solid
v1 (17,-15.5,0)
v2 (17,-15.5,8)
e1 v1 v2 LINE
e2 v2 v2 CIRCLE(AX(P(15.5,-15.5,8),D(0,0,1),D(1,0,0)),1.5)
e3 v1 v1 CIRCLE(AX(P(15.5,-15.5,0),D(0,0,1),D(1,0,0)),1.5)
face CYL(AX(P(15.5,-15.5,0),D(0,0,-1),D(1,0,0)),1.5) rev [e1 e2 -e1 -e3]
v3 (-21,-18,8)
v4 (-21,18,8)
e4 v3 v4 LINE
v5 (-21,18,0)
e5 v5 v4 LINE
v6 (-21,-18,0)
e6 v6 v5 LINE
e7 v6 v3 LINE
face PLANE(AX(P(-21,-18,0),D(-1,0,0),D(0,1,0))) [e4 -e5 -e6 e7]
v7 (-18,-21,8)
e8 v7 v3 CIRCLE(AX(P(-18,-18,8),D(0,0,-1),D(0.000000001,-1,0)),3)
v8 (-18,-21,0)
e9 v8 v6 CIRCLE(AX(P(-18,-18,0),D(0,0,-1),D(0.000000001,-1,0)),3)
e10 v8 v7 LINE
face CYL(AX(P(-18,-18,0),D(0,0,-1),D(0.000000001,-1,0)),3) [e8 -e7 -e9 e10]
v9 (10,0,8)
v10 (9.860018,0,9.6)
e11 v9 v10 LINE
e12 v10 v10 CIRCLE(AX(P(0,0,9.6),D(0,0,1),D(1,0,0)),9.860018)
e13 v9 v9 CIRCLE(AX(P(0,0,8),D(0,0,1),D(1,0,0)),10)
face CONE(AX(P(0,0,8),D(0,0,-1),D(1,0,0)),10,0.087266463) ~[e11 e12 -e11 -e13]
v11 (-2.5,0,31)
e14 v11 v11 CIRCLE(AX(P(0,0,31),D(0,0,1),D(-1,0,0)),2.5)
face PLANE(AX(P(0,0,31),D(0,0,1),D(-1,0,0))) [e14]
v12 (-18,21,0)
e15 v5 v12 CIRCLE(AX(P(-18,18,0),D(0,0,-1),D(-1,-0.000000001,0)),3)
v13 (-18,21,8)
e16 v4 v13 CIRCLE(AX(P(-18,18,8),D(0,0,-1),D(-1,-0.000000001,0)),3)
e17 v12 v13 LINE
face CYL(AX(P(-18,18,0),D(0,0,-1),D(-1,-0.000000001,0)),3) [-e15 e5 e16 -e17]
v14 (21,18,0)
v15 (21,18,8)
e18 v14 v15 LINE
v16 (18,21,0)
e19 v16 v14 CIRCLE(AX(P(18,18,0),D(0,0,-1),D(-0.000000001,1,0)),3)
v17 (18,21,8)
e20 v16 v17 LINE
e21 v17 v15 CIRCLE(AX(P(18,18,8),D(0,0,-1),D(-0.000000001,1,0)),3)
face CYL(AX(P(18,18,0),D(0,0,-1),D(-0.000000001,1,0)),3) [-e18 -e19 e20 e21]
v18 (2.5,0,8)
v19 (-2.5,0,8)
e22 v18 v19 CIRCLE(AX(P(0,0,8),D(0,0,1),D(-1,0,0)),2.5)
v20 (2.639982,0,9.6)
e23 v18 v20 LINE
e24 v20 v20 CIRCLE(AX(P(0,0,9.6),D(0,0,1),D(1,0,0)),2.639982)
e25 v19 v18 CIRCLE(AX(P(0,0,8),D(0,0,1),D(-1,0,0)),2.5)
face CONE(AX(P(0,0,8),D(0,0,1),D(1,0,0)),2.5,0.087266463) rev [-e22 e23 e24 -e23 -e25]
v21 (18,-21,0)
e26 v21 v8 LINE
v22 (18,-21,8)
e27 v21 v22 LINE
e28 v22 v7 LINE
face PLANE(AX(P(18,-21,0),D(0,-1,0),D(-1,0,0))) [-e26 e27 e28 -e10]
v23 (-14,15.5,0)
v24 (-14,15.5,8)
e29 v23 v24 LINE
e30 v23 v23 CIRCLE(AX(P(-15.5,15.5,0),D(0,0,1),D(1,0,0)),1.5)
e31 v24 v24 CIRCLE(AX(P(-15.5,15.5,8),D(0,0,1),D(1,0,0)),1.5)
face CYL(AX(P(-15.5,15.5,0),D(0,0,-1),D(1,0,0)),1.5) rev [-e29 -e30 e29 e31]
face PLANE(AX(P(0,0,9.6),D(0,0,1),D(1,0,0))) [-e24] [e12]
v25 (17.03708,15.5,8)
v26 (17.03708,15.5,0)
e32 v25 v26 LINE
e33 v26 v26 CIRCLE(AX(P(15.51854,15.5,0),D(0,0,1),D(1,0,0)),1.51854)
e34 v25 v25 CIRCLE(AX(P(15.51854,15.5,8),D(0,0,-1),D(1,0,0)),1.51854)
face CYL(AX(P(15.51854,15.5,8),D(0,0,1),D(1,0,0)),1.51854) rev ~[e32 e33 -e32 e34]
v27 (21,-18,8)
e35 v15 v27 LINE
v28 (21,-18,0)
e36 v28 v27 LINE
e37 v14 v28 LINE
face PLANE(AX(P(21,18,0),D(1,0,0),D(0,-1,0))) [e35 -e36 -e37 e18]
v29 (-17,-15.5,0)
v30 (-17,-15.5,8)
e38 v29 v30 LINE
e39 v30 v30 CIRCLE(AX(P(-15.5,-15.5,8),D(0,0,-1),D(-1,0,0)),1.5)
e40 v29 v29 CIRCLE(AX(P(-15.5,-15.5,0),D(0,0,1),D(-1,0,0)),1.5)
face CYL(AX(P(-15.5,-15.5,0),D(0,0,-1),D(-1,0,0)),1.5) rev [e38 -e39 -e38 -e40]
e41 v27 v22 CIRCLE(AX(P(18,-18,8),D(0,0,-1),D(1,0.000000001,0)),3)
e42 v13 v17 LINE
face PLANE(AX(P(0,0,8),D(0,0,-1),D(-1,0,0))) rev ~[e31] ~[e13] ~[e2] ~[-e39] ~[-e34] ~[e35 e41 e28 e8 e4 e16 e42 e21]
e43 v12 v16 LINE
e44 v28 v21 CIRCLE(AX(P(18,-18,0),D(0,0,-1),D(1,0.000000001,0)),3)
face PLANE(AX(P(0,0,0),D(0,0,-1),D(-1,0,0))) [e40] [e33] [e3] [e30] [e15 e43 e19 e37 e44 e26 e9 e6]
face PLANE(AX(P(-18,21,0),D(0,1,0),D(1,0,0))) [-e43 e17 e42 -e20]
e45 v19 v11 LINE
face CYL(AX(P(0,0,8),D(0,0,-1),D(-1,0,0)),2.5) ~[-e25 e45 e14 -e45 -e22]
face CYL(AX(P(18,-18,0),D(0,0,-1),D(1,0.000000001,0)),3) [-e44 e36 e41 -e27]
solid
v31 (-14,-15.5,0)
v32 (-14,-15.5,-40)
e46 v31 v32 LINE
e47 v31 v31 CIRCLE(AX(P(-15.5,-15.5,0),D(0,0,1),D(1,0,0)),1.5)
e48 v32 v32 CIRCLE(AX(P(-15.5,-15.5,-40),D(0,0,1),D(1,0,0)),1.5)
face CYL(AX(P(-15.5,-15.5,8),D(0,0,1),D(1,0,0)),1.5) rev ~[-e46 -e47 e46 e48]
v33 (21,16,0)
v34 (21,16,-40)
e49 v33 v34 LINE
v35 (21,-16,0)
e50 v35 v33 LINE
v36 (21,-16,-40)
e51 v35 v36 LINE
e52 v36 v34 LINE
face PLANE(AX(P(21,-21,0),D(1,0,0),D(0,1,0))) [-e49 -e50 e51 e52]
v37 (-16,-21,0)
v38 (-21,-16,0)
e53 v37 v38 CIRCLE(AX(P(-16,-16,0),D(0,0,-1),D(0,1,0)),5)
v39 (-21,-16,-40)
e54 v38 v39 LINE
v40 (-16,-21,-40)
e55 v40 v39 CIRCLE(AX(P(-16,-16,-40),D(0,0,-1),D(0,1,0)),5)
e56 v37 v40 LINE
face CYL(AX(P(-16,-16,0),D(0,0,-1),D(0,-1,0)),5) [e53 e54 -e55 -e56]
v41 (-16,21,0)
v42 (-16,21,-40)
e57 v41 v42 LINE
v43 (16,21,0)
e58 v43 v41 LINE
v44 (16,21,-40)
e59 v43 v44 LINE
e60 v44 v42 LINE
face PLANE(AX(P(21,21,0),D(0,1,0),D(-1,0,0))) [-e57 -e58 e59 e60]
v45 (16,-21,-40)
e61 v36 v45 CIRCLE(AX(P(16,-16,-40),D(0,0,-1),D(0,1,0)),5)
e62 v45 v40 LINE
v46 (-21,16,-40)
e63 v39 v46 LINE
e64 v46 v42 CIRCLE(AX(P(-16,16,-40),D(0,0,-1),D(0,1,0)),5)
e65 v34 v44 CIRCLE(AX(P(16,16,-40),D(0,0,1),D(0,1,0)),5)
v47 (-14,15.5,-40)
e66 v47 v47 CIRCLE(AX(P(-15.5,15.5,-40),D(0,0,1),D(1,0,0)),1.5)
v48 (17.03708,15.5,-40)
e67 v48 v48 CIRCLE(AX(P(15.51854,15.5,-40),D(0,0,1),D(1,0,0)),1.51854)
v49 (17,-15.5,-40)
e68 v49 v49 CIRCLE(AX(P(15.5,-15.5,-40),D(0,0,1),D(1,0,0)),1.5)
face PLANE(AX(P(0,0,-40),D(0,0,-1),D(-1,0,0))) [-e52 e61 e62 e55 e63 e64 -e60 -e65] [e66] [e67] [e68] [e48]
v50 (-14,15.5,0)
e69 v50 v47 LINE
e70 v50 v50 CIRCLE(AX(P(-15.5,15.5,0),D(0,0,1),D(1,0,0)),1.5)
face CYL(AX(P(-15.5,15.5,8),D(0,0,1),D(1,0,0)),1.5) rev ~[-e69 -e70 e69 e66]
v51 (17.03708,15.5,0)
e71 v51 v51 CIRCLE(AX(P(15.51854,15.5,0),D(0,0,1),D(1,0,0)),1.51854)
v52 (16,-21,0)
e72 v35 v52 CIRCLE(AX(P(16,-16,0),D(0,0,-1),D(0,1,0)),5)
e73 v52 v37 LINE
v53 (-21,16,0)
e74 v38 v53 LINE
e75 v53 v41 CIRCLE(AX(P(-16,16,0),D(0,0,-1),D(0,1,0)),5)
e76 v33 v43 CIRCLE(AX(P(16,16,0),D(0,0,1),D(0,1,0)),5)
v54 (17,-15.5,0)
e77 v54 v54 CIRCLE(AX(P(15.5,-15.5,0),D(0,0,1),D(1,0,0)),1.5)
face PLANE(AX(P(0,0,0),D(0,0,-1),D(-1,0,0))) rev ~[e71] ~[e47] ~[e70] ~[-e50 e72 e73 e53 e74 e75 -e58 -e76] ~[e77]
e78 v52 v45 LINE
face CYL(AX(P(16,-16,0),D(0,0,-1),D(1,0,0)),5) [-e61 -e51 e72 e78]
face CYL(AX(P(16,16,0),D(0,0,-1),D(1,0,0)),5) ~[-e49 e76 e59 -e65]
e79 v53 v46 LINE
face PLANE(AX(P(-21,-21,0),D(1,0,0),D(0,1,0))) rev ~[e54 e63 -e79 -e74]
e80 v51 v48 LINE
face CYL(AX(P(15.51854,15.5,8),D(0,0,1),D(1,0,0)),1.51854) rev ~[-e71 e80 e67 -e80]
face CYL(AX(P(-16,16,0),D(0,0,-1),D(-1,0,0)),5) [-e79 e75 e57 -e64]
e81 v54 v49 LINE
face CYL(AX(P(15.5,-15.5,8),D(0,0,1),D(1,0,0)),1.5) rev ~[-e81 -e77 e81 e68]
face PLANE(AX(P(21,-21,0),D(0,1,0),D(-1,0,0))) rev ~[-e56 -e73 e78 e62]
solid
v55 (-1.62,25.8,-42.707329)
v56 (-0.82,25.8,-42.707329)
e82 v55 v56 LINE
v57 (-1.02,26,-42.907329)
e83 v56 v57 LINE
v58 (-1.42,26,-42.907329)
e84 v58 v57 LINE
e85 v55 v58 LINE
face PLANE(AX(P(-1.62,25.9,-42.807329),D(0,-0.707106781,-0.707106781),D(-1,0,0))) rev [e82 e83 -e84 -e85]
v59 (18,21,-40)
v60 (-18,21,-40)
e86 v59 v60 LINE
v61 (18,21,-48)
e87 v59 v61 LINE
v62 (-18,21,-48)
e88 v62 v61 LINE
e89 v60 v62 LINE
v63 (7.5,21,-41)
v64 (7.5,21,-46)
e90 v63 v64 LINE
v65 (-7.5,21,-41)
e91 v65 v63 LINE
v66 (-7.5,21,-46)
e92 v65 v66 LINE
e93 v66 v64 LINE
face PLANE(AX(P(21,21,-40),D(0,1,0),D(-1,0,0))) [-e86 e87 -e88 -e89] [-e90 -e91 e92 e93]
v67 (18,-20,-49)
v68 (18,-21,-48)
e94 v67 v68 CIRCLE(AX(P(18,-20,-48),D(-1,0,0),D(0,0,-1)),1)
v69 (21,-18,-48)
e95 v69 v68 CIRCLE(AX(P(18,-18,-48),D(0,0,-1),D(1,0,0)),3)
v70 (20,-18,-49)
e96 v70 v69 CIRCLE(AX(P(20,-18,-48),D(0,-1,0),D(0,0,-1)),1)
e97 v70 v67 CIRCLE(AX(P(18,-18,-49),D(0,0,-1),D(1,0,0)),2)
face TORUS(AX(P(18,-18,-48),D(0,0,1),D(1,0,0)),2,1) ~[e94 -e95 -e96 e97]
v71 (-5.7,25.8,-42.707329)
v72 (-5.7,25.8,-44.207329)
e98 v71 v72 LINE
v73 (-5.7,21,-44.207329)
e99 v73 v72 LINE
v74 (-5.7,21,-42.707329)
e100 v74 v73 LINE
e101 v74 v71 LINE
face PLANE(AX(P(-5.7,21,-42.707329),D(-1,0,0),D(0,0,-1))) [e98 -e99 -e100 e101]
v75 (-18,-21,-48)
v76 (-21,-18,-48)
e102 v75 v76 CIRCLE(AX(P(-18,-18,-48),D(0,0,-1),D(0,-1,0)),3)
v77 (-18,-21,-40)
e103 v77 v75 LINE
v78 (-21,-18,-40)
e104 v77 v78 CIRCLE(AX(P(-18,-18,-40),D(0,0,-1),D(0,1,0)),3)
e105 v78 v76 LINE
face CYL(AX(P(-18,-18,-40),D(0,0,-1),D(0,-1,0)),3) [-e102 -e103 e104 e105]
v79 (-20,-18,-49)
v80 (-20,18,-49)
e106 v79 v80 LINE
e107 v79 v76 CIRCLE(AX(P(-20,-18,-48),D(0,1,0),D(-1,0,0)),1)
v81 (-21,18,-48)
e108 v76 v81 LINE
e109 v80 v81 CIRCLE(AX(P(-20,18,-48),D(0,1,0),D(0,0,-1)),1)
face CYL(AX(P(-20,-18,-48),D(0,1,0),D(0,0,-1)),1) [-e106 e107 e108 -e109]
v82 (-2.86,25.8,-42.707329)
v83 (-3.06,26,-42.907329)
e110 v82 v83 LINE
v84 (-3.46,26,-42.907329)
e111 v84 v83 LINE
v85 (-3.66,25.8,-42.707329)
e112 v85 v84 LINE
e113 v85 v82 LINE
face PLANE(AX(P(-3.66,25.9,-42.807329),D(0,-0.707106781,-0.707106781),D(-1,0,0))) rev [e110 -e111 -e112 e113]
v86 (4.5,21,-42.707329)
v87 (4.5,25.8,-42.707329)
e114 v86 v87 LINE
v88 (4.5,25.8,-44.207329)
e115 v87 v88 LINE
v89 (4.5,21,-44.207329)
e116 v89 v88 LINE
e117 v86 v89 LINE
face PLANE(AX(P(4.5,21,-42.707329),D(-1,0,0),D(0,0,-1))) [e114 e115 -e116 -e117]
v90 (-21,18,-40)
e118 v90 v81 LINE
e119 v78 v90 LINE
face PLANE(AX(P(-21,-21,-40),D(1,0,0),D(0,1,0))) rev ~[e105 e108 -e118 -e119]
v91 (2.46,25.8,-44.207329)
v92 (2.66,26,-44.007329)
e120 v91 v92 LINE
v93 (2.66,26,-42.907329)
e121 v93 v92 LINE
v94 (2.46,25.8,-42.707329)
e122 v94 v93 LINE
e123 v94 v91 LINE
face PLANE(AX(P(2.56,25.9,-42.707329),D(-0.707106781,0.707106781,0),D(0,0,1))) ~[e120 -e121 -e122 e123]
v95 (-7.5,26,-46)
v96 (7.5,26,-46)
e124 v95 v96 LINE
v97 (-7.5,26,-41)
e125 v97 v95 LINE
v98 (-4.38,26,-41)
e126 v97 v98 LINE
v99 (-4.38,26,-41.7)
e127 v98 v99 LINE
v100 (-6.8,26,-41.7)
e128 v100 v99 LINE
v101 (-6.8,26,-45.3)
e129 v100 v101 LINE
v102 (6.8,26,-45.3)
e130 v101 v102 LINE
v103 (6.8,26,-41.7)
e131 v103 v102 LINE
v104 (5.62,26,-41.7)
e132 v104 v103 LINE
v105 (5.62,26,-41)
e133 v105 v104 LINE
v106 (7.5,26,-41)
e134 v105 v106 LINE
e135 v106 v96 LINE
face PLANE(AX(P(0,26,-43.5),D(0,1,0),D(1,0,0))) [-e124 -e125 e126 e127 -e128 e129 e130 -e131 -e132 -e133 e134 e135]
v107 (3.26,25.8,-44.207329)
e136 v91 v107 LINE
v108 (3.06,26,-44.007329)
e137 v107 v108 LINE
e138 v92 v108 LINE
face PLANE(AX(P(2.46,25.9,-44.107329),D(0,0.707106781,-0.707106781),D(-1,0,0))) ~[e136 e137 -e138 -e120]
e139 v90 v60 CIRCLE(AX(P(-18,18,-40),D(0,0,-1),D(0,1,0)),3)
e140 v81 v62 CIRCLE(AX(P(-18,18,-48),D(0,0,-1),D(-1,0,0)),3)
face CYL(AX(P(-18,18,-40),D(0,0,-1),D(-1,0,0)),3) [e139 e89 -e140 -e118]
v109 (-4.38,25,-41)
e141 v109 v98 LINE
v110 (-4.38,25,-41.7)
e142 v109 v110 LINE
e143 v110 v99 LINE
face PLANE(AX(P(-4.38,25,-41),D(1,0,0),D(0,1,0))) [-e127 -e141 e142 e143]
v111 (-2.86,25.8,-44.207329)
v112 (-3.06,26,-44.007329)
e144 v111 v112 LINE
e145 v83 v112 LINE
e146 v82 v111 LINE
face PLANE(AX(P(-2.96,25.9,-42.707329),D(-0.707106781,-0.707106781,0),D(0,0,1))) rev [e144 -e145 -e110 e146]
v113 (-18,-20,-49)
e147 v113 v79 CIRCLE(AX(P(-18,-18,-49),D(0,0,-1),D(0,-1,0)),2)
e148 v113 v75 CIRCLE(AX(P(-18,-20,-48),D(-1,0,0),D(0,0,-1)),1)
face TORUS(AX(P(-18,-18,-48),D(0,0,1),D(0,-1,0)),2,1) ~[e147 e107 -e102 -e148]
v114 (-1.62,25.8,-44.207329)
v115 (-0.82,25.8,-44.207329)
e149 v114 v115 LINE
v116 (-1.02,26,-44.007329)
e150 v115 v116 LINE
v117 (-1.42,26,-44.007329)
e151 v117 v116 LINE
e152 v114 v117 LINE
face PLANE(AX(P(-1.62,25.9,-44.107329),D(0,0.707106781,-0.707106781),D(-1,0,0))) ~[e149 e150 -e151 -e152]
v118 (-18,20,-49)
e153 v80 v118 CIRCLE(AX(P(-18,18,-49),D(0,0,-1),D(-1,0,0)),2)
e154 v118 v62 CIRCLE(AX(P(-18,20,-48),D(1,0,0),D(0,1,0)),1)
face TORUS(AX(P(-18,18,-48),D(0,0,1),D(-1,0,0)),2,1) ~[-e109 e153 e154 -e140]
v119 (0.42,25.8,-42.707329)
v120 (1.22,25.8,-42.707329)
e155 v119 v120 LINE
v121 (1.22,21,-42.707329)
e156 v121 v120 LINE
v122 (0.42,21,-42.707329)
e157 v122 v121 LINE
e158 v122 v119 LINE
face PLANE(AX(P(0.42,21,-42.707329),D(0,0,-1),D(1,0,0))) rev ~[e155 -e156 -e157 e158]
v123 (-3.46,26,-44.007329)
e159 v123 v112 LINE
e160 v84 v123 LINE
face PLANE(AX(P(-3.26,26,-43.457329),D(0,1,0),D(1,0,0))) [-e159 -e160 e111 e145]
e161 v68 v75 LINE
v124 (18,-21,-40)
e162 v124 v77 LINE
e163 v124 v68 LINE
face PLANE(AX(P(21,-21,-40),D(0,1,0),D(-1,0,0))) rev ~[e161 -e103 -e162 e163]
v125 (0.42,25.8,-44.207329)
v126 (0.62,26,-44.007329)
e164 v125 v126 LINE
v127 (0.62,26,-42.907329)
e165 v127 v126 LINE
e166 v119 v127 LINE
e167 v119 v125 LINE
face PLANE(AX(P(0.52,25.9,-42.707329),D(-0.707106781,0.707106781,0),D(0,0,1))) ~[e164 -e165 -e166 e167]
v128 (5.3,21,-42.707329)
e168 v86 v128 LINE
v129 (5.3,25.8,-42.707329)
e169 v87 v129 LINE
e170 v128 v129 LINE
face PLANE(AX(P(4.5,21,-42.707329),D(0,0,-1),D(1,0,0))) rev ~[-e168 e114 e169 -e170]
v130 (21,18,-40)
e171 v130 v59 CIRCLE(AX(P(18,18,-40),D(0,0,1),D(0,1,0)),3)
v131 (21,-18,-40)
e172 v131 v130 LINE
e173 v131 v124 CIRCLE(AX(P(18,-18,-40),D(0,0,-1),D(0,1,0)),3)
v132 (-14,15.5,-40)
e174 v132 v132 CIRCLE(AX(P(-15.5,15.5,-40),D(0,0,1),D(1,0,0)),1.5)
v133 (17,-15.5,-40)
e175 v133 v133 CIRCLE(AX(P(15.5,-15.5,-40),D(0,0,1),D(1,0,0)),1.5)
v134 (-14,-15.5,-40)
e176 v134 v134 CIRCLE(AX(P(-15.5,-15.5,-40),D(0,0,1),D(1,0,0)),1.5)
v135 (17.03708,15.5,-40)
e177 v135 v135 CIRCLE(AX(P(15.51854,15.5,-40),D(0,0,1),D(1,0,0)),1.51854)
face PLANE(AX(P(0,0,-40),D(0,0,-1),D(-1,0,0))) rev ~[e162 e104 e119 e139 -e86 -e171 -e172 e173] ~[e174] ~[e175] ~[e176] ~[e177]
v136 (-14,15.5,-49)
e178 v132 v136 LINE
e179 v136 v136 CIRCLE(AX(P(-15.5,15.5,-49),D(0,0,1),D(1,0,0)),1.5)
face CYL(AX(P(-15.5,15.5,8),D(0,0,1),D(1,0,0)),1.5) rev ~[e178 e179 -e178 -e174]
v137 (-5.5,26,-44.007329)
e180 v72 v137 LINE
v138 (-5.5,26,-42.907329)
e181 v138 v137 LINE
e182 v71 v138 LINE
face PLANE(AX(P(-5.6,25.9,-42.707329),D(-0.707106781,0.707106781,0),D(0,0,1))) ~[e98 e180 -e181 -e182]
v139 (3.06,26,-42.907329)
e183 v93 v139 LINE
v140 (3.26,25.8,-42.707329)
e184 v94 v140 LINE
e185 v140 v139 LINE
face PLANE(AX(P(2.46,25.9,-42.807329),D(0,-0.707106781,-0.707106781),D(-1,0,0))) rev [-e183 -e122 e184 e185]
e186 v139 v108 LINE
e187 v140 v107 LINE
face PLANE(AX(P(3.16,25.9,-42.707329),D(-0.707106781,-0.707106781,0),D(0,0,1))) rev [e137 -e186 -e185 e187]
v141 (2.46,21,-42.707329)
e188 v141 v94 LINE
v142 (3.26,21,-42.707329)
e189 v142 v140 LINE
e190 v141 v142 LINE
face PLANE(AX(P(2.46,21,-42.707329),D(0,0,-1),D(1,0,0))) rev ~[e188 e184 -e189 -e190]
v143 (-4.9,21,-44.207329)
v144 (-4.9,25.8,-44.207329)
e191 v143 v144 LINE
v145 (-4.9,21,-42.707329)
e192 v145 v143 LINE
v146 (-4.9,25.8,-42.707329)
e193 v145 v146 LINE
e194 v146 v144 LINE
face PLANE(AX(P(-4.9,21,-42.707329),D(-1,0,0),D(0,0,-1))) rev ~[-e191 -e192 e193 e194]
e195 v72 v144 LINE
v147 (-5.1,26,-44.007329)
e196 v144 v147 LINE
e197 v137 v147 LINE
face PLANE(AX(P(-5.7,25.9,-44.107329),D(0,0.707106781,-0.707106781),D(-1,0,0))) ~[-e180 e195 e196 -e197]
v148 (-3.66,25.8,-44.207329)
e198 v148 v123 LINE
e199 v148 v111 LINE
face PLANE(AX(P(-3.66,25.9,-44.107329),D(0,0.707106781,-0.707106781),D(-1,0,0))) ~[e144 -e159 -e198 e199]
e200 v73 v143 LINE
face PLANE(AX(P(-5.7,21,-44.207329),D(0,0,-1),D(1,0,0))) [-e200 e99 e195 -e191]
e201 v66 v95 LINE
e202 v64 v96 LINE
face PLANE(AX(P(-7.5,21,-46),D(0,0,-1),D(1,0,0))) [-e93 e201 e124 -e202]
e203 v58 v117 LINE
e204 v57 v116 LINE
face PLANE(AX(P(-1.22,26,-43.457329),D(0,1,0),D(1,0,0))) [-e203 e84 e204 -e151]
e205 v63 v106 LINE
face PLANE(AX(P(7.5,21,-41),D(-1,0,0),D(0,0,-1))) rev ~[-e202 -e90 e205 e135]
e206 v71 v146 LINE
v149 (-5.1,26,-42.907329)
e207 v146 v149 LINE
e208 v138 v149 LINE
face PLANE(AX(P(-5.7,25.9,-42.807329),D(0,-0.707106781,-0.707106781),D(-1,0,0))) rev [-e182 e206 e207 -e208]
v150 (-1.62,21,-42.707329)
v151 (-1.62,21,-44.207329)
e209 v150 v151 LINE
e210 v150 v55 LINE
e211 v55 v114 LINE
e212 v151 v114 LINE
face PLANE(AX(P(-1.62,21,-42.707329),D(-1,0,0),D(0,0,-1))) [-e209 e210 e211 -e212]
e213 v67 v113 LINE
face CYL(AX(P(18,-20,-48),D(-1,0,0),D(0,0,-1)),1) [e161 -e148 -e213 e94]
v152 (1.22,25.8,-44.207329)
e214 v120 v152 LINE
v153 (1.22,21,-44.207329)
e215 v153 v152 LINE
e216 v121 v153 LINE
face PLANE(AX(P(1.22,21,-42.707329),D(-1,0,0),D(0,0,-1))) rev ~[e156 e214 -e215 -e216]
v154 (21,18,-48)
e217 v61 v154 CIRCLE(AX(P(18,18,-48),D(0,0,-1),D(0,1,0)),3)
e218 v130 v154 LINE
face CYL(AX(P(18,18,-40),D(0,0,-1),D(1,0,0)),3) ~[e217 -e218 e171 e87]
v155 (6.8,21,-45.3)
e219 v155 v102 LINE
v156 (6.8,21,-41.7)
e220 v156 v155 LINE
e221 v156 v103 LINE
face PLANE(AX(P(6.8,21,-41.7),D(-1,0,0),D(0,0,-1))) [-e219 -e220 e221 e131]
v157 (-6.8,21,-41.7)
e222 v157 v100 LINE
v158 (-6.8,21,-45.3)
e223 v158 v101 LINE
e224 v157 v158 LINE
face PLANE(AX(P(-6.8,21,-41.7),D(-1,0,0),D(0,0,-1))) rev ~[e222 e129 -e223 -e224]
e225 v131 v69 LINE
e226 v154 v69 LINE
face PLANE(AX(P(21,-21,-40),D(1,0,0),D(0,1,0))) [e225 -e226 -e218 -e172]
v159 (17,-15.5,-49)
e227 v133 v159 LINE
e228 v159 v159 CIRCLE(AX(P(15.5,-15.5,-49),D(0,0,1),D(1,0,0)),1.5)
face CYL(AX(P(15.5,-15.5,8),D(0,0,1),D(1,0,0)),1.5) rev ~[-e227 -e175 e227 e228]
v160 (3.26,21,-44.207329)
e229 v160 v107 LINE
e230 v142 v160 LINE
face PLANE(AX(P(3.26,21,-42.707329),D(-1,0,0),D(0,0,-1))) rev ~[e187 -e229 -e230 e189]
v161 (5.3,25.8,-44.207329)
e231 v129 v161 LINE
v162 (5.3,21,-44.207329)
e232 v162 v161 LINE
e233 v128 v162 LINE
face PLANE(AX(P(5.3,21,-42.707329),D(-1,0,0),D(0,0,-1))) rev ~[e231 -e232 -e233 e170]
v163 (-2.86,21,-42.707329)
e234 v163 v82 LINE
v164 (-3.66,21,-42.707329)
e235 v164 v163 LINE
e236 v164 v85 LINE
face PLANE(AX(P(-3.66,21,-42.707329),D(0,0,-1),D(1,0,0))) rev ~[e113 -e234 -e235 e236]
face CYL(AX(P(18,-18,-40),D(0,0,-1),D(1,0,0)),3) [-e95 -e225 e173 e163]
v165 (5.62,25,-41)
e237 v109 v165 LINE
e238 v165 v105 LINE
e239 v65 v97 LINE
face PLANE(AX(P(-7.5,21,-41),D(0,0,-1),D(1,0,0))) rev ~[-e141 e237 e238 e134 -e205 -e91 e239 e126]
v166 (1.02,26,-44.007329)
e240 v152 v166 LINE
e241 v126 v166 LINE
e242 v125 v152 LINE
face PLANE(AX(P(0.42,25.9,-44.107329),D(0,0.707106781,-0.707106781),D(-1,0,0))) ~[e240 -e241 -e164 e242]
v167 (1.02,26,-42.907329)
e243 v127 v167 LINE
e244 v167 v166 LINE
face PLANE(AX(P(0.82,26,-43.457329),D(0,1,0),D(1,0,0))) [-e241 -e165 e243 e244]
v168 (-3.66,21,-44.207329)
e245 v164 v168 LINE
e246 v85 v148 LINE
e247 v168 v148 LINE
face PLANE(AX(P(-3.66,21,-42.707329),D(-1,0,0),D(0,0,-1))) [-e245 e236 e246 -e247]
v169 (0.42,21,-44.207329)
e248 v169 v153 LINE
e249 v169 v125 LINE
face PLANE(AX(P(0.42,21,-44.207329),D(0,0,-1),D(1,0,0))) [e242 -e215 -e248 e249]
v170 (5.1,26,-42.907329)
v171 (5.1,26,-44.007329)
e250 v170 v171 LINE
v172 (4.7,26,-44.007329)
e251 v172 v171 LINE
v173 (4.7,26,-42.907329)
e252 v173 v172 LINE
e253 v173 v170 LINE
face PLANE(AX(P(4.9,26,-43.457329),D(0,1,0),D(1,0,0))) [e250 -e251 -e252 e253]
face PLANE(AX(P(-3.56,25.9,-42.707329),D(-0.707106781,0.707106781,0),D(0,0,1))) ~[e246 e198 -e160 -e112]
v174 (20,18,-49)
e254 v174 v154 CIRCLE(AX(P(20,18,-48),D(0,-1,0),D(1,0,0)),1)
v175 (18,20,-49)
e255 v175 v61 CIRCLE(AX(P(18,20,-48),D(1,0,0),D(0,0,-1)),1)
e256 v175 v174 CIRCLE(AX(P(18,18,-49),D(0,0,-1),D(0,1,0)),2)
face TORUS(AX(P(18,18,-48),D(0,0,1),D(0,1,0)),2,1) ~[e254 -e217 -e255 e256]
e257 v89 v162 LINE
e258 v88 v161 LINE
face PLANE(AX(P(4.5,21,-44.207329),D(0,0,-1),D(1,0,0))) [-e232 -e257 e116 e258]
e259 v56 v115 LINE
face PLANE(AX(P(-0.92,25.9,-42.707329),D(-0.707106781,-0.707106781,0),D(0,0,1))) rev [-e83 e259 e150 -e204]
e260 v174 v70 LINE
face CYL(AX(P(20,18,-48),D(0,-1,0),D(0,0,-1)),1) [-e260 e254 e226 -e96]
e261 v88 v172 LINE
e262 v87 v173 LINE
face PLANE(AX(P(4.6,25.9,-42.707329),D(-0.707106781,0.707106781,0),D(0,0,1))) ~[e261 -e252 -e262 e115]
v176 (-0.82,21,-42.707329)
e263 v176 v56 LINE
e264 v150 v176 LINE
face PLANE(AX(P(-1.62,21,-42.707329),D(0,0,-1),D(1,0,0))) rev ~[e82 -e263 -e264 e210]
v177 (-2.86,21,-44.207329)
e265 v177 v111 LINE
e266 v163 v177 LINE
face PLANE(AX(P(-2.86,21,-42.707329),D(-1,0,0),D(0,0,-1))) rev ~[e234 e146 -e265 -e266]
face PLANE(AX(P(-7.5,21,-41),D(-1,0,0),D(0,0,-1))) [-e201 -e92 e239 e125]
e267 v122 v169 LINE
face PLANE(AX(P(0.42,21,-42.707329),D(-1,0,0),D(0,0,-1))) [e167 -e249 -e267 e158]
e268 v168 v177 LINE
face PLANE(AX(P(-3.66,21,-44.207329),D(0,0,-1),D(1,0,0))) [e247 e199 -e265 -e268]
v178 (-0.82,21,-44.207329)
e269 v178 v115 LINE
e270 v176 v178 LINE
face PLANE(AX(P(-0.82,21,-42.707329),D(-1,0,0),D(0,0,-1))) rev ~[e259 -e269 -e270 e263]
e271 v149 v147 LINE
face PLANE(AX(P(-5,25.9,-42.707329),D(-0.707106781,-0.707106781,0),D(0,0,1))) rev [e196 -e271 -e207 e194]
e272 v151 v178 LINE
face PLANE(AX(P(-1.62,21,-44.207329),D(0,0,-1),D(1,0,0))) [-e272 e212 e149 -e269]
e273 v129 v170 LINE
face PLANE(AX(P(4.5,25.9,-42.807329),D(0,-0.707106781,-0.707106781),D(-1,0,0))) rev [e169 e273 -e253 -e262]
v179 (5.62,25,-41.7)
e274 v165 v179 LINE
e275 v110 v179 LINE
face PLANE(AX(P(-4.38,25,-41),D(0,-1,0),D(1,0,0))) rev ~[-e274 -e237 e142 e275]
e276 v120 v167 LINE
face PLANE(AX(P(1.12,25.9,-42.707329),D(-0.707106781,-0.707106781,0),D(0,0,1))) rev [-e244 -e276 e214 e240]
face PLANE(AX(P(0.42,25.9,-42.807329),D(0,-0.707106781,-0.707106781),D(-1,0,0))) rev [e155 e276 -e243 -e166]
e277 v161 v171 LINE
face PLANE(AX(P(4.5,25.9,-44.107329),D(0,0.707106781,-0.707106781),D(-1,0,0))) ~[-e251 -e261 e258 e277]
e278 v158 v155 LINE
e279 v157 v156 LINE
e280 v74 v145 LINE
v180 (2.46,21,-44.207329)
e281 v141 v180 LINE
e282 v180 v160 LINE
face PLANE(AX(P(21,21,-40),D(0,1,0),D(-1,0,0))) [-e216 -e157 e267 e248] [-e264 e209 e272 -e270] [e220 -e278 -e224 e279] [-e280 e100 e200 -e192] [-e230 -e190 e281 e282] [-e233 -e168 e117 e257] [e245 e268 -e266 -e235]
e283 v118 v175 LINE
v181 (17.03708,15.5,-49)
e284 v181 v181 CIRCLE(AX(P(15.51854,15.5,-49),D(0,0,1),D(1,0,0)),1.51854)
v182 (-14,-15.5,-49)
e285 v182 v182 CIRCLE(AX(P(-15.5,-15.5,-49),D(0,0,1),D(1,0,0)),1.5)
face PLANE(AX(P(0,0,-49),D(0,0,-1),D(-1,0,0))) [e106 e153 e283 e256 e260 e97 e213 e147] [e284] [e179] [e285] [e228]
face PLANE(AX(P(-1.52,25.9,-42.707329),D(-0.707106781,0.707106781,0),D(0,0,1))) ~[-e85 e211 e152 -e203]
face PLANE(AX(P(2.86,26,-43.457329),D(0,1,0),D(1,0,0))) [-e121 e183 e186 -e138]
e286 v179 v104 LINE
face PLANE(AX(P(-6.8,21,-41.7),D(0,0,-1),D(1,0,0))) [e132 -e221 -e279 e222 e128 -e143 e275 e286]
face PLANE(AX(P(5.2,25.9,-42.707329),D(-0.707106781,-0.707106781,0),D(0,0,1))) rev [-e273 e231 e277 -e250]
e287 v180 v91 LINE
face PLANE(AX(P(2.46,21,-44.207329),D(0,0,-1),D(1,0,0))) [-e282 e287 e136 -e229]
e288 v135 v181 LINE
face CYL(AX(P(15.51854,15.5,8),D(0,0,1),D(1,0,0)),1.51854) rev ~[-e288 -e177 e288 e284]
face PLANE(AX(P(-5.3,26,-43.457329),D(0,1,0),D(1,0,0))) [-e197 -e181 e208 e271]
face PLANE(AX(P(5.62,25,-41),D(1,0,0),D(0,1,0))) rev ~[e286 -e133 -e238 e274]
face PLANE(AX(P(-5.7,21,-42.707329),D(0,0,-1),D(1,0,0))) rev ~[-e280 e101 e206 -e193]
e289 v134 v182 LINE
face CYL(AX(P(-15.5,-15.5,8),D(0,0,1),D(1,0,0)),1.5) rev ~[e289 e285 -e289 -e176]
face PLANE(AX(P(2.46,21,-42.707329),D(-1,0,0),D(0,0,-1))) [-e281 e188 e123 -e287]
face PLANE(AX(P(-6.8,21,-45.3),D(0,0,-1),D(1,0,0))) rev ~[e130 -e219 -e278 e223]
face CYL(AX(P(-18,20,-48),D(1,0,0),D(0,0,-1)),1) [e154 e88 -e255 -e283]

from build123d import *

# Parameters (mm, degrees)
SKETCH_1_R          = 1.5
EXTRUDE_1_DEPTH     = 8
SKETCH_4_R          = 2.5
EXTRUDE_2_DEPTH     = 23
SKETCH_9_W          = 42
SKETCH_9_H          = 42
EXTRUDE_7_DEPTH     = 40
SKETCH_10_W         = 42
SKETCH_10_H         = 42
EXTRUDE_8_DEPTH     = 9
FILLET_1_R          = 3
FILLET_2_R          = 5
SKETCH_12_R         = 1.5
SKETCH_12_R_2       = 1.518540069
CUT_EXTRUDE_1_DEPTH = 65.272855857
SKETCH_14_W         = 15
SKETCH_14_H         = 5
SKETCH_14_W_2       = 13.6
SKETCH_14_H_2       = 3.6
SKETCH_14_W_3       = 0.8
SKETCH_14_H_3       = 1.5
EXTRUDE_10_DEPTH    = 5
CHAMFER_1_SIZE      = 0.2
SKETCH_15_W         = 10
SKETCH_15_H         = 1
CUT_EXTRUDE_2_DEPTH = 0.7
FILLET_3_R          = 1
SKETCH_16_R         = 10
SKETCH_16_R_2       = 2.5
EXTRUDE_11_DEPTH    = 1.6
EXTRUDE_11_DRAFT    = 5


with BuildPart() as part:
    # 草图1 → 凸台-拉伸1 (new body)
    with BuildSketch(Plane.XY):
        with BuildLine():
            Line((-18, 21), (18, 21))
            ThreePointArc((18, 21), (20.121320344, 20.121320344), (21, 18))
            Line((21, 18), (21, -18))
            ThreePointArc((21, -18), (20.121320344, -20.121320344), (18, -21))
            Line((18, -21), (-18, -21))
            ThreePointArc((-18, -21), (-20.121320344, -20.121320344), (-21, -18))
            Line((-21, -18), (-21, 18))
            ThreePointArc((-21, 18), (-20.121320344, 20.121320344), (-18, 21))
        make_face()
        with Locations((-15.5, 15.5)):
            Circle(SKETCH_1_R, mode=Mode.SUBTRACT)
        with Locations(Location((15.5, 15.5, 0), (0, 0, 180))):
            Circle(SKETCH_1_R, mode=Mode.SUBTRACT)
        with Locations((15.5, -15.5)):
            Circle(SKETCH_1_R, mode=Mode.SUBTRACT)
        with Locations(Location((-15.5, -15.5, 0), (0, 0, 180))):
            Circle(SKETCH_1_R, mode=Mode.SUBTRACT)
    extrude(amount=EXTRUDE_1_DEPTH)

    # 草图4 → 凸台-拉伸2 (add)
    with BuildSketch(Plane.XY.offset(8)):
        with Locations(Location((0, 0, 0), (0, 0, 180))):
            Circle(SKETCH_4_R)
    extrude(amount=EXTRUDE_2_DEPTH)


with BuildPart() as body_2:
    # 草图9 → 凸台-拉伸7 (new body)
    with BuildSketch(Plane(origin=(0, 0, 0), x_dir=(-1, 0, 0), z_dir=(0, 0, -1))):
        Rectangle(SKETCH_9_W, SKETCH_9_H)
    extrude(amount=EXTRUDE_7_DEPTH)

    # 圆角2
    fillet_2_edges = [body_2.edges().sort_by_distance(p)[0] for p in [
        (-21, -21, -20),
        (21, -21, -20),
        (21, 21, -20),
        (-21, 21, -20),
    ]]
    fillet(fillet_2_edges, radius=FILLET_2_R)


with BuildPart() as body_3:
    # 草图10 → 凸台-拉伸8 (new body)
    with BuildSketch(Plane(origin=(0, 0, -40), x_dir=(-1, 0, 0), z_dir=(0, 0, -1))):
        Rectangle(SKETCH_10_W, SKETCH_10_H)
    extrude(amount=EXTRUDE_8_DEPTH)

    # 圆角1
    fillet_1_edges = [body_3.edges().sort_by_distance(p)[0] for p in [
        (21, 21, -44.5),
        (-21, 21, -44.5),
        (-21, -21, -44.5),
        (21, -21, -44.5),
    ]]
    fillet(fillet_1_edges, radius=FILLET_1_R)


with BuildPart() as cut_extrude_1_tool:
    # 草图12 → 切除-拉伸1 (new, through all)
    with BuildSketch(Plane.XY.offset(8)):
        with Locations((-15.5, 15.5)):
            Circle(SKETCH_12_R)
        with Locations((15.518540069, 15.5)):
            Circle(SKETCH_12_R_2)
        with Locations((-15.5, -15.5)):
            Circle(SKETCH_12_R)
        with Locations((15.5, -15.5)):
            Circle(SKETCH_12_R)
    extrude(amount=-CUT_EXTRUDE_1_DEPTH)


with BuildPart() as part_1:
    add(part.part)

    # 切除-拉伸1: cut by cut_extrude_1_tool
    add(cut_extrude_1_tool.part, mode=Mode.SUBTRACT)


with BuildPart() as body_2_1:
    add(body_2.part)

    # 切除-拉伸1: cut by cut_extrude_1_tool
    add(cut_extrude_1_tool.part, mode=Mode.SUBTRACT)


with BuildPart() as body_3_1:
    add(body_3.part)

    # 切除-拉伸1: cut by cut_extrude_1_tool
    add(cut_extrude_1_tool.part, mode=Mode.SUBTRACT)

    # 草图14 → 凸台-拉伸10 (add)
    # profile 1 of 7: a face of its own
    with BuildSketch(Plane(origin=(0, 21, 0), x_dir=(1, 0, 0), z_dir=(0, 1, 0))):
        with Locations((0, 43.5)):
            Rectangle(SKETCH_14_W, SKETCH_14_H)
        with Locations((0, 43.5)):
            Rectangle(SKETCH_14_W_2, SKETCH_14_H_2, mode=Mode.SUBTRACT)
    # profile 2 of 7: a face of its own
    with BuildSketch(Plane(origin=(0, 21, 0), x_dir=(1, 0, 0), z_dir=(0, 1, 0))):
        with Locations((-5.3, 43.457329348)):
            Rectangle(SKETCH_14_W_3, SKETCH_14_H_3)
    # profile 3 of 7: a face of its own
    with BuildSketch(Plane(origin=(0, 21, 0), x_dir=(1, 0, 0), z_dir=(0, 1, 0))):
        with Locations((-1.22, 43.457329348)):
            Rectangle(SKETCH_14_W_3, SKETCH_14_H_3)
    # profile 4 of 7: a face of its own
    with BuildSketch(Plane(origin=(0, 21, 0), x_dir=(1, 0, 0), z_dir=(0, 1, 0))):
        with Locations((4.9, 43.457329348)):
            Rectangle(SKETCH_14_W_3, SKETCH_14_H_3)
    # profile 5 of 7: a face of its own
    with BuildSketch(Plane(origin=(0, 21, 0), x_dir=(1, 0, 0), z_dir=(0, 1, 0))):
        with Locations((2.86, 43.457329348)):
            Rectangle(SKETCH_14_W_3, SKETCH_14_H_3)
    # profile 6 of 7: a face of its own
    with BuildSketch(Plane(origin=(0, 21, 0), x_dir=(1, 0, 0), z_dir=(0, 1, 0))):
        with Locations((-3.26, 43.457329348)):
            Rectangle(SKETCH_14_W_3, SKETCH_14_H_3)
    # profile 7 of 7: a face of its own
    with BuildSketch(Plane(origin=(0, 21, 0), x_dir=(1, 0, 0), z_dir=(0, 1, 0))):
        with Locations((0.82, 43.457329348)):
            Rectangle(SKETCH_14_W_3, SKETCH_14_H_3)
    extrude(amount=EXTRUDE_10_DEPTH)

    # 倒角1
    chamfer_1_edges = [body_3_1.edges().sort_by_distance(p)[0] for p in [
        (5.3, 26, -43.457329348),
        (4.9, 26, -44.207329348),
        (4.5, 26, -43.457329348),
        (4.9, 26, -42.707329348),
        (3.26, 26, -43.457329348),
        (2.86, 26, -44.207329348),
        (2.46, 26, -43.457329348),
        (2.86, 26, -42.707329348),
        (-2.86, 26, -43.457329348),
        (-3.26, 26, -44.207329348),
        (-3.66, 26, -43.457329348),
        (-3.26, 26, -42.707329348),
        (1.22, 26, -43.457329348),
        (0.82, 26, -44.207329348),
        (0.42, 26, -43.457329348),
        (0.82, 26, -42.707329348),
        (-4.9, 26, -43.457329348),
        (-5.3, 26, -44.207329348),
        (-5.7, 26, -43.457329348),
        (-5.3, 26, -42.707329348),
        (-0.82, 26, -43.457329348),
        (-1.22, 26, -44.207329348),
        (-1.62, 26, -43.457329348),
        (-1.22, 26, -42.707329348),
    ]]
    chamfer(chamfer_1_edges, length=CHAMFER_1_SIZE)

    # 草图15 → 切除-拉伸2 (cut)
    with BuildSketch(Plane.XY.offset(-41)):
        with Locations((0.62, 25.5)):
            Rectangle(SKETCH_15_W, SKETCH_15_H)
    extrude(amount=-CUT_EXTRUDE_2_DEPTH, mode=Mode.SUBTRACT)

    # 圆角3
    fillet_3_edges = [body_3_1.edges().sort_by_distance(p)[0] for p in [
        (0, -21, -49),
        (21, 0, -49),
        (-21, 0, -49),
        (0, 21, -49),
        (20.121320344, 20.121320344, -49),
        (-20.121320344, 20.121320344, -49),
        (-20.121320344, -20.121320344, -49),
        (20.121320344, -20.121320344, -49),
    ]]
    fillet(fillet_3_edges, radius=FILLET_3_R)


with BuildPart() as extrude_11_tool:
    # 草图16 → 凸台-拉伸11 (with draft: the straight prism first)
    with BuildSketch(Plane.XY.offset(8)):
        Circle(SKETCH_16_R)
        Circle(SKETCH_16_R_2, mode=Mode.SUBTRACT)
    extrude(amount=EXTRUDE_11_DEPTH)
    # 凸台-拉伸11: the draft: its side faces are tilted about the plane it starts from
    extrude_11_sides = [extrude_11_tool.faces().sort_by_distance(p)[0] for p in [
        (-10, 0, 8.8),
        (-2.5, 0, 8.8),
    ]]
    draft(extrude_11_sides, Plane.XY.offset(8), EXTRUDE_11_DRAFT)


with BuildPart() as part_2:
    add(part_1.part)

    # 凸台-拉伸11: add extrude_11_tool
    add(extrude_11_tool.part)


solid = Compound([body_2_1.part, body_3_1.part, part_2.part])
